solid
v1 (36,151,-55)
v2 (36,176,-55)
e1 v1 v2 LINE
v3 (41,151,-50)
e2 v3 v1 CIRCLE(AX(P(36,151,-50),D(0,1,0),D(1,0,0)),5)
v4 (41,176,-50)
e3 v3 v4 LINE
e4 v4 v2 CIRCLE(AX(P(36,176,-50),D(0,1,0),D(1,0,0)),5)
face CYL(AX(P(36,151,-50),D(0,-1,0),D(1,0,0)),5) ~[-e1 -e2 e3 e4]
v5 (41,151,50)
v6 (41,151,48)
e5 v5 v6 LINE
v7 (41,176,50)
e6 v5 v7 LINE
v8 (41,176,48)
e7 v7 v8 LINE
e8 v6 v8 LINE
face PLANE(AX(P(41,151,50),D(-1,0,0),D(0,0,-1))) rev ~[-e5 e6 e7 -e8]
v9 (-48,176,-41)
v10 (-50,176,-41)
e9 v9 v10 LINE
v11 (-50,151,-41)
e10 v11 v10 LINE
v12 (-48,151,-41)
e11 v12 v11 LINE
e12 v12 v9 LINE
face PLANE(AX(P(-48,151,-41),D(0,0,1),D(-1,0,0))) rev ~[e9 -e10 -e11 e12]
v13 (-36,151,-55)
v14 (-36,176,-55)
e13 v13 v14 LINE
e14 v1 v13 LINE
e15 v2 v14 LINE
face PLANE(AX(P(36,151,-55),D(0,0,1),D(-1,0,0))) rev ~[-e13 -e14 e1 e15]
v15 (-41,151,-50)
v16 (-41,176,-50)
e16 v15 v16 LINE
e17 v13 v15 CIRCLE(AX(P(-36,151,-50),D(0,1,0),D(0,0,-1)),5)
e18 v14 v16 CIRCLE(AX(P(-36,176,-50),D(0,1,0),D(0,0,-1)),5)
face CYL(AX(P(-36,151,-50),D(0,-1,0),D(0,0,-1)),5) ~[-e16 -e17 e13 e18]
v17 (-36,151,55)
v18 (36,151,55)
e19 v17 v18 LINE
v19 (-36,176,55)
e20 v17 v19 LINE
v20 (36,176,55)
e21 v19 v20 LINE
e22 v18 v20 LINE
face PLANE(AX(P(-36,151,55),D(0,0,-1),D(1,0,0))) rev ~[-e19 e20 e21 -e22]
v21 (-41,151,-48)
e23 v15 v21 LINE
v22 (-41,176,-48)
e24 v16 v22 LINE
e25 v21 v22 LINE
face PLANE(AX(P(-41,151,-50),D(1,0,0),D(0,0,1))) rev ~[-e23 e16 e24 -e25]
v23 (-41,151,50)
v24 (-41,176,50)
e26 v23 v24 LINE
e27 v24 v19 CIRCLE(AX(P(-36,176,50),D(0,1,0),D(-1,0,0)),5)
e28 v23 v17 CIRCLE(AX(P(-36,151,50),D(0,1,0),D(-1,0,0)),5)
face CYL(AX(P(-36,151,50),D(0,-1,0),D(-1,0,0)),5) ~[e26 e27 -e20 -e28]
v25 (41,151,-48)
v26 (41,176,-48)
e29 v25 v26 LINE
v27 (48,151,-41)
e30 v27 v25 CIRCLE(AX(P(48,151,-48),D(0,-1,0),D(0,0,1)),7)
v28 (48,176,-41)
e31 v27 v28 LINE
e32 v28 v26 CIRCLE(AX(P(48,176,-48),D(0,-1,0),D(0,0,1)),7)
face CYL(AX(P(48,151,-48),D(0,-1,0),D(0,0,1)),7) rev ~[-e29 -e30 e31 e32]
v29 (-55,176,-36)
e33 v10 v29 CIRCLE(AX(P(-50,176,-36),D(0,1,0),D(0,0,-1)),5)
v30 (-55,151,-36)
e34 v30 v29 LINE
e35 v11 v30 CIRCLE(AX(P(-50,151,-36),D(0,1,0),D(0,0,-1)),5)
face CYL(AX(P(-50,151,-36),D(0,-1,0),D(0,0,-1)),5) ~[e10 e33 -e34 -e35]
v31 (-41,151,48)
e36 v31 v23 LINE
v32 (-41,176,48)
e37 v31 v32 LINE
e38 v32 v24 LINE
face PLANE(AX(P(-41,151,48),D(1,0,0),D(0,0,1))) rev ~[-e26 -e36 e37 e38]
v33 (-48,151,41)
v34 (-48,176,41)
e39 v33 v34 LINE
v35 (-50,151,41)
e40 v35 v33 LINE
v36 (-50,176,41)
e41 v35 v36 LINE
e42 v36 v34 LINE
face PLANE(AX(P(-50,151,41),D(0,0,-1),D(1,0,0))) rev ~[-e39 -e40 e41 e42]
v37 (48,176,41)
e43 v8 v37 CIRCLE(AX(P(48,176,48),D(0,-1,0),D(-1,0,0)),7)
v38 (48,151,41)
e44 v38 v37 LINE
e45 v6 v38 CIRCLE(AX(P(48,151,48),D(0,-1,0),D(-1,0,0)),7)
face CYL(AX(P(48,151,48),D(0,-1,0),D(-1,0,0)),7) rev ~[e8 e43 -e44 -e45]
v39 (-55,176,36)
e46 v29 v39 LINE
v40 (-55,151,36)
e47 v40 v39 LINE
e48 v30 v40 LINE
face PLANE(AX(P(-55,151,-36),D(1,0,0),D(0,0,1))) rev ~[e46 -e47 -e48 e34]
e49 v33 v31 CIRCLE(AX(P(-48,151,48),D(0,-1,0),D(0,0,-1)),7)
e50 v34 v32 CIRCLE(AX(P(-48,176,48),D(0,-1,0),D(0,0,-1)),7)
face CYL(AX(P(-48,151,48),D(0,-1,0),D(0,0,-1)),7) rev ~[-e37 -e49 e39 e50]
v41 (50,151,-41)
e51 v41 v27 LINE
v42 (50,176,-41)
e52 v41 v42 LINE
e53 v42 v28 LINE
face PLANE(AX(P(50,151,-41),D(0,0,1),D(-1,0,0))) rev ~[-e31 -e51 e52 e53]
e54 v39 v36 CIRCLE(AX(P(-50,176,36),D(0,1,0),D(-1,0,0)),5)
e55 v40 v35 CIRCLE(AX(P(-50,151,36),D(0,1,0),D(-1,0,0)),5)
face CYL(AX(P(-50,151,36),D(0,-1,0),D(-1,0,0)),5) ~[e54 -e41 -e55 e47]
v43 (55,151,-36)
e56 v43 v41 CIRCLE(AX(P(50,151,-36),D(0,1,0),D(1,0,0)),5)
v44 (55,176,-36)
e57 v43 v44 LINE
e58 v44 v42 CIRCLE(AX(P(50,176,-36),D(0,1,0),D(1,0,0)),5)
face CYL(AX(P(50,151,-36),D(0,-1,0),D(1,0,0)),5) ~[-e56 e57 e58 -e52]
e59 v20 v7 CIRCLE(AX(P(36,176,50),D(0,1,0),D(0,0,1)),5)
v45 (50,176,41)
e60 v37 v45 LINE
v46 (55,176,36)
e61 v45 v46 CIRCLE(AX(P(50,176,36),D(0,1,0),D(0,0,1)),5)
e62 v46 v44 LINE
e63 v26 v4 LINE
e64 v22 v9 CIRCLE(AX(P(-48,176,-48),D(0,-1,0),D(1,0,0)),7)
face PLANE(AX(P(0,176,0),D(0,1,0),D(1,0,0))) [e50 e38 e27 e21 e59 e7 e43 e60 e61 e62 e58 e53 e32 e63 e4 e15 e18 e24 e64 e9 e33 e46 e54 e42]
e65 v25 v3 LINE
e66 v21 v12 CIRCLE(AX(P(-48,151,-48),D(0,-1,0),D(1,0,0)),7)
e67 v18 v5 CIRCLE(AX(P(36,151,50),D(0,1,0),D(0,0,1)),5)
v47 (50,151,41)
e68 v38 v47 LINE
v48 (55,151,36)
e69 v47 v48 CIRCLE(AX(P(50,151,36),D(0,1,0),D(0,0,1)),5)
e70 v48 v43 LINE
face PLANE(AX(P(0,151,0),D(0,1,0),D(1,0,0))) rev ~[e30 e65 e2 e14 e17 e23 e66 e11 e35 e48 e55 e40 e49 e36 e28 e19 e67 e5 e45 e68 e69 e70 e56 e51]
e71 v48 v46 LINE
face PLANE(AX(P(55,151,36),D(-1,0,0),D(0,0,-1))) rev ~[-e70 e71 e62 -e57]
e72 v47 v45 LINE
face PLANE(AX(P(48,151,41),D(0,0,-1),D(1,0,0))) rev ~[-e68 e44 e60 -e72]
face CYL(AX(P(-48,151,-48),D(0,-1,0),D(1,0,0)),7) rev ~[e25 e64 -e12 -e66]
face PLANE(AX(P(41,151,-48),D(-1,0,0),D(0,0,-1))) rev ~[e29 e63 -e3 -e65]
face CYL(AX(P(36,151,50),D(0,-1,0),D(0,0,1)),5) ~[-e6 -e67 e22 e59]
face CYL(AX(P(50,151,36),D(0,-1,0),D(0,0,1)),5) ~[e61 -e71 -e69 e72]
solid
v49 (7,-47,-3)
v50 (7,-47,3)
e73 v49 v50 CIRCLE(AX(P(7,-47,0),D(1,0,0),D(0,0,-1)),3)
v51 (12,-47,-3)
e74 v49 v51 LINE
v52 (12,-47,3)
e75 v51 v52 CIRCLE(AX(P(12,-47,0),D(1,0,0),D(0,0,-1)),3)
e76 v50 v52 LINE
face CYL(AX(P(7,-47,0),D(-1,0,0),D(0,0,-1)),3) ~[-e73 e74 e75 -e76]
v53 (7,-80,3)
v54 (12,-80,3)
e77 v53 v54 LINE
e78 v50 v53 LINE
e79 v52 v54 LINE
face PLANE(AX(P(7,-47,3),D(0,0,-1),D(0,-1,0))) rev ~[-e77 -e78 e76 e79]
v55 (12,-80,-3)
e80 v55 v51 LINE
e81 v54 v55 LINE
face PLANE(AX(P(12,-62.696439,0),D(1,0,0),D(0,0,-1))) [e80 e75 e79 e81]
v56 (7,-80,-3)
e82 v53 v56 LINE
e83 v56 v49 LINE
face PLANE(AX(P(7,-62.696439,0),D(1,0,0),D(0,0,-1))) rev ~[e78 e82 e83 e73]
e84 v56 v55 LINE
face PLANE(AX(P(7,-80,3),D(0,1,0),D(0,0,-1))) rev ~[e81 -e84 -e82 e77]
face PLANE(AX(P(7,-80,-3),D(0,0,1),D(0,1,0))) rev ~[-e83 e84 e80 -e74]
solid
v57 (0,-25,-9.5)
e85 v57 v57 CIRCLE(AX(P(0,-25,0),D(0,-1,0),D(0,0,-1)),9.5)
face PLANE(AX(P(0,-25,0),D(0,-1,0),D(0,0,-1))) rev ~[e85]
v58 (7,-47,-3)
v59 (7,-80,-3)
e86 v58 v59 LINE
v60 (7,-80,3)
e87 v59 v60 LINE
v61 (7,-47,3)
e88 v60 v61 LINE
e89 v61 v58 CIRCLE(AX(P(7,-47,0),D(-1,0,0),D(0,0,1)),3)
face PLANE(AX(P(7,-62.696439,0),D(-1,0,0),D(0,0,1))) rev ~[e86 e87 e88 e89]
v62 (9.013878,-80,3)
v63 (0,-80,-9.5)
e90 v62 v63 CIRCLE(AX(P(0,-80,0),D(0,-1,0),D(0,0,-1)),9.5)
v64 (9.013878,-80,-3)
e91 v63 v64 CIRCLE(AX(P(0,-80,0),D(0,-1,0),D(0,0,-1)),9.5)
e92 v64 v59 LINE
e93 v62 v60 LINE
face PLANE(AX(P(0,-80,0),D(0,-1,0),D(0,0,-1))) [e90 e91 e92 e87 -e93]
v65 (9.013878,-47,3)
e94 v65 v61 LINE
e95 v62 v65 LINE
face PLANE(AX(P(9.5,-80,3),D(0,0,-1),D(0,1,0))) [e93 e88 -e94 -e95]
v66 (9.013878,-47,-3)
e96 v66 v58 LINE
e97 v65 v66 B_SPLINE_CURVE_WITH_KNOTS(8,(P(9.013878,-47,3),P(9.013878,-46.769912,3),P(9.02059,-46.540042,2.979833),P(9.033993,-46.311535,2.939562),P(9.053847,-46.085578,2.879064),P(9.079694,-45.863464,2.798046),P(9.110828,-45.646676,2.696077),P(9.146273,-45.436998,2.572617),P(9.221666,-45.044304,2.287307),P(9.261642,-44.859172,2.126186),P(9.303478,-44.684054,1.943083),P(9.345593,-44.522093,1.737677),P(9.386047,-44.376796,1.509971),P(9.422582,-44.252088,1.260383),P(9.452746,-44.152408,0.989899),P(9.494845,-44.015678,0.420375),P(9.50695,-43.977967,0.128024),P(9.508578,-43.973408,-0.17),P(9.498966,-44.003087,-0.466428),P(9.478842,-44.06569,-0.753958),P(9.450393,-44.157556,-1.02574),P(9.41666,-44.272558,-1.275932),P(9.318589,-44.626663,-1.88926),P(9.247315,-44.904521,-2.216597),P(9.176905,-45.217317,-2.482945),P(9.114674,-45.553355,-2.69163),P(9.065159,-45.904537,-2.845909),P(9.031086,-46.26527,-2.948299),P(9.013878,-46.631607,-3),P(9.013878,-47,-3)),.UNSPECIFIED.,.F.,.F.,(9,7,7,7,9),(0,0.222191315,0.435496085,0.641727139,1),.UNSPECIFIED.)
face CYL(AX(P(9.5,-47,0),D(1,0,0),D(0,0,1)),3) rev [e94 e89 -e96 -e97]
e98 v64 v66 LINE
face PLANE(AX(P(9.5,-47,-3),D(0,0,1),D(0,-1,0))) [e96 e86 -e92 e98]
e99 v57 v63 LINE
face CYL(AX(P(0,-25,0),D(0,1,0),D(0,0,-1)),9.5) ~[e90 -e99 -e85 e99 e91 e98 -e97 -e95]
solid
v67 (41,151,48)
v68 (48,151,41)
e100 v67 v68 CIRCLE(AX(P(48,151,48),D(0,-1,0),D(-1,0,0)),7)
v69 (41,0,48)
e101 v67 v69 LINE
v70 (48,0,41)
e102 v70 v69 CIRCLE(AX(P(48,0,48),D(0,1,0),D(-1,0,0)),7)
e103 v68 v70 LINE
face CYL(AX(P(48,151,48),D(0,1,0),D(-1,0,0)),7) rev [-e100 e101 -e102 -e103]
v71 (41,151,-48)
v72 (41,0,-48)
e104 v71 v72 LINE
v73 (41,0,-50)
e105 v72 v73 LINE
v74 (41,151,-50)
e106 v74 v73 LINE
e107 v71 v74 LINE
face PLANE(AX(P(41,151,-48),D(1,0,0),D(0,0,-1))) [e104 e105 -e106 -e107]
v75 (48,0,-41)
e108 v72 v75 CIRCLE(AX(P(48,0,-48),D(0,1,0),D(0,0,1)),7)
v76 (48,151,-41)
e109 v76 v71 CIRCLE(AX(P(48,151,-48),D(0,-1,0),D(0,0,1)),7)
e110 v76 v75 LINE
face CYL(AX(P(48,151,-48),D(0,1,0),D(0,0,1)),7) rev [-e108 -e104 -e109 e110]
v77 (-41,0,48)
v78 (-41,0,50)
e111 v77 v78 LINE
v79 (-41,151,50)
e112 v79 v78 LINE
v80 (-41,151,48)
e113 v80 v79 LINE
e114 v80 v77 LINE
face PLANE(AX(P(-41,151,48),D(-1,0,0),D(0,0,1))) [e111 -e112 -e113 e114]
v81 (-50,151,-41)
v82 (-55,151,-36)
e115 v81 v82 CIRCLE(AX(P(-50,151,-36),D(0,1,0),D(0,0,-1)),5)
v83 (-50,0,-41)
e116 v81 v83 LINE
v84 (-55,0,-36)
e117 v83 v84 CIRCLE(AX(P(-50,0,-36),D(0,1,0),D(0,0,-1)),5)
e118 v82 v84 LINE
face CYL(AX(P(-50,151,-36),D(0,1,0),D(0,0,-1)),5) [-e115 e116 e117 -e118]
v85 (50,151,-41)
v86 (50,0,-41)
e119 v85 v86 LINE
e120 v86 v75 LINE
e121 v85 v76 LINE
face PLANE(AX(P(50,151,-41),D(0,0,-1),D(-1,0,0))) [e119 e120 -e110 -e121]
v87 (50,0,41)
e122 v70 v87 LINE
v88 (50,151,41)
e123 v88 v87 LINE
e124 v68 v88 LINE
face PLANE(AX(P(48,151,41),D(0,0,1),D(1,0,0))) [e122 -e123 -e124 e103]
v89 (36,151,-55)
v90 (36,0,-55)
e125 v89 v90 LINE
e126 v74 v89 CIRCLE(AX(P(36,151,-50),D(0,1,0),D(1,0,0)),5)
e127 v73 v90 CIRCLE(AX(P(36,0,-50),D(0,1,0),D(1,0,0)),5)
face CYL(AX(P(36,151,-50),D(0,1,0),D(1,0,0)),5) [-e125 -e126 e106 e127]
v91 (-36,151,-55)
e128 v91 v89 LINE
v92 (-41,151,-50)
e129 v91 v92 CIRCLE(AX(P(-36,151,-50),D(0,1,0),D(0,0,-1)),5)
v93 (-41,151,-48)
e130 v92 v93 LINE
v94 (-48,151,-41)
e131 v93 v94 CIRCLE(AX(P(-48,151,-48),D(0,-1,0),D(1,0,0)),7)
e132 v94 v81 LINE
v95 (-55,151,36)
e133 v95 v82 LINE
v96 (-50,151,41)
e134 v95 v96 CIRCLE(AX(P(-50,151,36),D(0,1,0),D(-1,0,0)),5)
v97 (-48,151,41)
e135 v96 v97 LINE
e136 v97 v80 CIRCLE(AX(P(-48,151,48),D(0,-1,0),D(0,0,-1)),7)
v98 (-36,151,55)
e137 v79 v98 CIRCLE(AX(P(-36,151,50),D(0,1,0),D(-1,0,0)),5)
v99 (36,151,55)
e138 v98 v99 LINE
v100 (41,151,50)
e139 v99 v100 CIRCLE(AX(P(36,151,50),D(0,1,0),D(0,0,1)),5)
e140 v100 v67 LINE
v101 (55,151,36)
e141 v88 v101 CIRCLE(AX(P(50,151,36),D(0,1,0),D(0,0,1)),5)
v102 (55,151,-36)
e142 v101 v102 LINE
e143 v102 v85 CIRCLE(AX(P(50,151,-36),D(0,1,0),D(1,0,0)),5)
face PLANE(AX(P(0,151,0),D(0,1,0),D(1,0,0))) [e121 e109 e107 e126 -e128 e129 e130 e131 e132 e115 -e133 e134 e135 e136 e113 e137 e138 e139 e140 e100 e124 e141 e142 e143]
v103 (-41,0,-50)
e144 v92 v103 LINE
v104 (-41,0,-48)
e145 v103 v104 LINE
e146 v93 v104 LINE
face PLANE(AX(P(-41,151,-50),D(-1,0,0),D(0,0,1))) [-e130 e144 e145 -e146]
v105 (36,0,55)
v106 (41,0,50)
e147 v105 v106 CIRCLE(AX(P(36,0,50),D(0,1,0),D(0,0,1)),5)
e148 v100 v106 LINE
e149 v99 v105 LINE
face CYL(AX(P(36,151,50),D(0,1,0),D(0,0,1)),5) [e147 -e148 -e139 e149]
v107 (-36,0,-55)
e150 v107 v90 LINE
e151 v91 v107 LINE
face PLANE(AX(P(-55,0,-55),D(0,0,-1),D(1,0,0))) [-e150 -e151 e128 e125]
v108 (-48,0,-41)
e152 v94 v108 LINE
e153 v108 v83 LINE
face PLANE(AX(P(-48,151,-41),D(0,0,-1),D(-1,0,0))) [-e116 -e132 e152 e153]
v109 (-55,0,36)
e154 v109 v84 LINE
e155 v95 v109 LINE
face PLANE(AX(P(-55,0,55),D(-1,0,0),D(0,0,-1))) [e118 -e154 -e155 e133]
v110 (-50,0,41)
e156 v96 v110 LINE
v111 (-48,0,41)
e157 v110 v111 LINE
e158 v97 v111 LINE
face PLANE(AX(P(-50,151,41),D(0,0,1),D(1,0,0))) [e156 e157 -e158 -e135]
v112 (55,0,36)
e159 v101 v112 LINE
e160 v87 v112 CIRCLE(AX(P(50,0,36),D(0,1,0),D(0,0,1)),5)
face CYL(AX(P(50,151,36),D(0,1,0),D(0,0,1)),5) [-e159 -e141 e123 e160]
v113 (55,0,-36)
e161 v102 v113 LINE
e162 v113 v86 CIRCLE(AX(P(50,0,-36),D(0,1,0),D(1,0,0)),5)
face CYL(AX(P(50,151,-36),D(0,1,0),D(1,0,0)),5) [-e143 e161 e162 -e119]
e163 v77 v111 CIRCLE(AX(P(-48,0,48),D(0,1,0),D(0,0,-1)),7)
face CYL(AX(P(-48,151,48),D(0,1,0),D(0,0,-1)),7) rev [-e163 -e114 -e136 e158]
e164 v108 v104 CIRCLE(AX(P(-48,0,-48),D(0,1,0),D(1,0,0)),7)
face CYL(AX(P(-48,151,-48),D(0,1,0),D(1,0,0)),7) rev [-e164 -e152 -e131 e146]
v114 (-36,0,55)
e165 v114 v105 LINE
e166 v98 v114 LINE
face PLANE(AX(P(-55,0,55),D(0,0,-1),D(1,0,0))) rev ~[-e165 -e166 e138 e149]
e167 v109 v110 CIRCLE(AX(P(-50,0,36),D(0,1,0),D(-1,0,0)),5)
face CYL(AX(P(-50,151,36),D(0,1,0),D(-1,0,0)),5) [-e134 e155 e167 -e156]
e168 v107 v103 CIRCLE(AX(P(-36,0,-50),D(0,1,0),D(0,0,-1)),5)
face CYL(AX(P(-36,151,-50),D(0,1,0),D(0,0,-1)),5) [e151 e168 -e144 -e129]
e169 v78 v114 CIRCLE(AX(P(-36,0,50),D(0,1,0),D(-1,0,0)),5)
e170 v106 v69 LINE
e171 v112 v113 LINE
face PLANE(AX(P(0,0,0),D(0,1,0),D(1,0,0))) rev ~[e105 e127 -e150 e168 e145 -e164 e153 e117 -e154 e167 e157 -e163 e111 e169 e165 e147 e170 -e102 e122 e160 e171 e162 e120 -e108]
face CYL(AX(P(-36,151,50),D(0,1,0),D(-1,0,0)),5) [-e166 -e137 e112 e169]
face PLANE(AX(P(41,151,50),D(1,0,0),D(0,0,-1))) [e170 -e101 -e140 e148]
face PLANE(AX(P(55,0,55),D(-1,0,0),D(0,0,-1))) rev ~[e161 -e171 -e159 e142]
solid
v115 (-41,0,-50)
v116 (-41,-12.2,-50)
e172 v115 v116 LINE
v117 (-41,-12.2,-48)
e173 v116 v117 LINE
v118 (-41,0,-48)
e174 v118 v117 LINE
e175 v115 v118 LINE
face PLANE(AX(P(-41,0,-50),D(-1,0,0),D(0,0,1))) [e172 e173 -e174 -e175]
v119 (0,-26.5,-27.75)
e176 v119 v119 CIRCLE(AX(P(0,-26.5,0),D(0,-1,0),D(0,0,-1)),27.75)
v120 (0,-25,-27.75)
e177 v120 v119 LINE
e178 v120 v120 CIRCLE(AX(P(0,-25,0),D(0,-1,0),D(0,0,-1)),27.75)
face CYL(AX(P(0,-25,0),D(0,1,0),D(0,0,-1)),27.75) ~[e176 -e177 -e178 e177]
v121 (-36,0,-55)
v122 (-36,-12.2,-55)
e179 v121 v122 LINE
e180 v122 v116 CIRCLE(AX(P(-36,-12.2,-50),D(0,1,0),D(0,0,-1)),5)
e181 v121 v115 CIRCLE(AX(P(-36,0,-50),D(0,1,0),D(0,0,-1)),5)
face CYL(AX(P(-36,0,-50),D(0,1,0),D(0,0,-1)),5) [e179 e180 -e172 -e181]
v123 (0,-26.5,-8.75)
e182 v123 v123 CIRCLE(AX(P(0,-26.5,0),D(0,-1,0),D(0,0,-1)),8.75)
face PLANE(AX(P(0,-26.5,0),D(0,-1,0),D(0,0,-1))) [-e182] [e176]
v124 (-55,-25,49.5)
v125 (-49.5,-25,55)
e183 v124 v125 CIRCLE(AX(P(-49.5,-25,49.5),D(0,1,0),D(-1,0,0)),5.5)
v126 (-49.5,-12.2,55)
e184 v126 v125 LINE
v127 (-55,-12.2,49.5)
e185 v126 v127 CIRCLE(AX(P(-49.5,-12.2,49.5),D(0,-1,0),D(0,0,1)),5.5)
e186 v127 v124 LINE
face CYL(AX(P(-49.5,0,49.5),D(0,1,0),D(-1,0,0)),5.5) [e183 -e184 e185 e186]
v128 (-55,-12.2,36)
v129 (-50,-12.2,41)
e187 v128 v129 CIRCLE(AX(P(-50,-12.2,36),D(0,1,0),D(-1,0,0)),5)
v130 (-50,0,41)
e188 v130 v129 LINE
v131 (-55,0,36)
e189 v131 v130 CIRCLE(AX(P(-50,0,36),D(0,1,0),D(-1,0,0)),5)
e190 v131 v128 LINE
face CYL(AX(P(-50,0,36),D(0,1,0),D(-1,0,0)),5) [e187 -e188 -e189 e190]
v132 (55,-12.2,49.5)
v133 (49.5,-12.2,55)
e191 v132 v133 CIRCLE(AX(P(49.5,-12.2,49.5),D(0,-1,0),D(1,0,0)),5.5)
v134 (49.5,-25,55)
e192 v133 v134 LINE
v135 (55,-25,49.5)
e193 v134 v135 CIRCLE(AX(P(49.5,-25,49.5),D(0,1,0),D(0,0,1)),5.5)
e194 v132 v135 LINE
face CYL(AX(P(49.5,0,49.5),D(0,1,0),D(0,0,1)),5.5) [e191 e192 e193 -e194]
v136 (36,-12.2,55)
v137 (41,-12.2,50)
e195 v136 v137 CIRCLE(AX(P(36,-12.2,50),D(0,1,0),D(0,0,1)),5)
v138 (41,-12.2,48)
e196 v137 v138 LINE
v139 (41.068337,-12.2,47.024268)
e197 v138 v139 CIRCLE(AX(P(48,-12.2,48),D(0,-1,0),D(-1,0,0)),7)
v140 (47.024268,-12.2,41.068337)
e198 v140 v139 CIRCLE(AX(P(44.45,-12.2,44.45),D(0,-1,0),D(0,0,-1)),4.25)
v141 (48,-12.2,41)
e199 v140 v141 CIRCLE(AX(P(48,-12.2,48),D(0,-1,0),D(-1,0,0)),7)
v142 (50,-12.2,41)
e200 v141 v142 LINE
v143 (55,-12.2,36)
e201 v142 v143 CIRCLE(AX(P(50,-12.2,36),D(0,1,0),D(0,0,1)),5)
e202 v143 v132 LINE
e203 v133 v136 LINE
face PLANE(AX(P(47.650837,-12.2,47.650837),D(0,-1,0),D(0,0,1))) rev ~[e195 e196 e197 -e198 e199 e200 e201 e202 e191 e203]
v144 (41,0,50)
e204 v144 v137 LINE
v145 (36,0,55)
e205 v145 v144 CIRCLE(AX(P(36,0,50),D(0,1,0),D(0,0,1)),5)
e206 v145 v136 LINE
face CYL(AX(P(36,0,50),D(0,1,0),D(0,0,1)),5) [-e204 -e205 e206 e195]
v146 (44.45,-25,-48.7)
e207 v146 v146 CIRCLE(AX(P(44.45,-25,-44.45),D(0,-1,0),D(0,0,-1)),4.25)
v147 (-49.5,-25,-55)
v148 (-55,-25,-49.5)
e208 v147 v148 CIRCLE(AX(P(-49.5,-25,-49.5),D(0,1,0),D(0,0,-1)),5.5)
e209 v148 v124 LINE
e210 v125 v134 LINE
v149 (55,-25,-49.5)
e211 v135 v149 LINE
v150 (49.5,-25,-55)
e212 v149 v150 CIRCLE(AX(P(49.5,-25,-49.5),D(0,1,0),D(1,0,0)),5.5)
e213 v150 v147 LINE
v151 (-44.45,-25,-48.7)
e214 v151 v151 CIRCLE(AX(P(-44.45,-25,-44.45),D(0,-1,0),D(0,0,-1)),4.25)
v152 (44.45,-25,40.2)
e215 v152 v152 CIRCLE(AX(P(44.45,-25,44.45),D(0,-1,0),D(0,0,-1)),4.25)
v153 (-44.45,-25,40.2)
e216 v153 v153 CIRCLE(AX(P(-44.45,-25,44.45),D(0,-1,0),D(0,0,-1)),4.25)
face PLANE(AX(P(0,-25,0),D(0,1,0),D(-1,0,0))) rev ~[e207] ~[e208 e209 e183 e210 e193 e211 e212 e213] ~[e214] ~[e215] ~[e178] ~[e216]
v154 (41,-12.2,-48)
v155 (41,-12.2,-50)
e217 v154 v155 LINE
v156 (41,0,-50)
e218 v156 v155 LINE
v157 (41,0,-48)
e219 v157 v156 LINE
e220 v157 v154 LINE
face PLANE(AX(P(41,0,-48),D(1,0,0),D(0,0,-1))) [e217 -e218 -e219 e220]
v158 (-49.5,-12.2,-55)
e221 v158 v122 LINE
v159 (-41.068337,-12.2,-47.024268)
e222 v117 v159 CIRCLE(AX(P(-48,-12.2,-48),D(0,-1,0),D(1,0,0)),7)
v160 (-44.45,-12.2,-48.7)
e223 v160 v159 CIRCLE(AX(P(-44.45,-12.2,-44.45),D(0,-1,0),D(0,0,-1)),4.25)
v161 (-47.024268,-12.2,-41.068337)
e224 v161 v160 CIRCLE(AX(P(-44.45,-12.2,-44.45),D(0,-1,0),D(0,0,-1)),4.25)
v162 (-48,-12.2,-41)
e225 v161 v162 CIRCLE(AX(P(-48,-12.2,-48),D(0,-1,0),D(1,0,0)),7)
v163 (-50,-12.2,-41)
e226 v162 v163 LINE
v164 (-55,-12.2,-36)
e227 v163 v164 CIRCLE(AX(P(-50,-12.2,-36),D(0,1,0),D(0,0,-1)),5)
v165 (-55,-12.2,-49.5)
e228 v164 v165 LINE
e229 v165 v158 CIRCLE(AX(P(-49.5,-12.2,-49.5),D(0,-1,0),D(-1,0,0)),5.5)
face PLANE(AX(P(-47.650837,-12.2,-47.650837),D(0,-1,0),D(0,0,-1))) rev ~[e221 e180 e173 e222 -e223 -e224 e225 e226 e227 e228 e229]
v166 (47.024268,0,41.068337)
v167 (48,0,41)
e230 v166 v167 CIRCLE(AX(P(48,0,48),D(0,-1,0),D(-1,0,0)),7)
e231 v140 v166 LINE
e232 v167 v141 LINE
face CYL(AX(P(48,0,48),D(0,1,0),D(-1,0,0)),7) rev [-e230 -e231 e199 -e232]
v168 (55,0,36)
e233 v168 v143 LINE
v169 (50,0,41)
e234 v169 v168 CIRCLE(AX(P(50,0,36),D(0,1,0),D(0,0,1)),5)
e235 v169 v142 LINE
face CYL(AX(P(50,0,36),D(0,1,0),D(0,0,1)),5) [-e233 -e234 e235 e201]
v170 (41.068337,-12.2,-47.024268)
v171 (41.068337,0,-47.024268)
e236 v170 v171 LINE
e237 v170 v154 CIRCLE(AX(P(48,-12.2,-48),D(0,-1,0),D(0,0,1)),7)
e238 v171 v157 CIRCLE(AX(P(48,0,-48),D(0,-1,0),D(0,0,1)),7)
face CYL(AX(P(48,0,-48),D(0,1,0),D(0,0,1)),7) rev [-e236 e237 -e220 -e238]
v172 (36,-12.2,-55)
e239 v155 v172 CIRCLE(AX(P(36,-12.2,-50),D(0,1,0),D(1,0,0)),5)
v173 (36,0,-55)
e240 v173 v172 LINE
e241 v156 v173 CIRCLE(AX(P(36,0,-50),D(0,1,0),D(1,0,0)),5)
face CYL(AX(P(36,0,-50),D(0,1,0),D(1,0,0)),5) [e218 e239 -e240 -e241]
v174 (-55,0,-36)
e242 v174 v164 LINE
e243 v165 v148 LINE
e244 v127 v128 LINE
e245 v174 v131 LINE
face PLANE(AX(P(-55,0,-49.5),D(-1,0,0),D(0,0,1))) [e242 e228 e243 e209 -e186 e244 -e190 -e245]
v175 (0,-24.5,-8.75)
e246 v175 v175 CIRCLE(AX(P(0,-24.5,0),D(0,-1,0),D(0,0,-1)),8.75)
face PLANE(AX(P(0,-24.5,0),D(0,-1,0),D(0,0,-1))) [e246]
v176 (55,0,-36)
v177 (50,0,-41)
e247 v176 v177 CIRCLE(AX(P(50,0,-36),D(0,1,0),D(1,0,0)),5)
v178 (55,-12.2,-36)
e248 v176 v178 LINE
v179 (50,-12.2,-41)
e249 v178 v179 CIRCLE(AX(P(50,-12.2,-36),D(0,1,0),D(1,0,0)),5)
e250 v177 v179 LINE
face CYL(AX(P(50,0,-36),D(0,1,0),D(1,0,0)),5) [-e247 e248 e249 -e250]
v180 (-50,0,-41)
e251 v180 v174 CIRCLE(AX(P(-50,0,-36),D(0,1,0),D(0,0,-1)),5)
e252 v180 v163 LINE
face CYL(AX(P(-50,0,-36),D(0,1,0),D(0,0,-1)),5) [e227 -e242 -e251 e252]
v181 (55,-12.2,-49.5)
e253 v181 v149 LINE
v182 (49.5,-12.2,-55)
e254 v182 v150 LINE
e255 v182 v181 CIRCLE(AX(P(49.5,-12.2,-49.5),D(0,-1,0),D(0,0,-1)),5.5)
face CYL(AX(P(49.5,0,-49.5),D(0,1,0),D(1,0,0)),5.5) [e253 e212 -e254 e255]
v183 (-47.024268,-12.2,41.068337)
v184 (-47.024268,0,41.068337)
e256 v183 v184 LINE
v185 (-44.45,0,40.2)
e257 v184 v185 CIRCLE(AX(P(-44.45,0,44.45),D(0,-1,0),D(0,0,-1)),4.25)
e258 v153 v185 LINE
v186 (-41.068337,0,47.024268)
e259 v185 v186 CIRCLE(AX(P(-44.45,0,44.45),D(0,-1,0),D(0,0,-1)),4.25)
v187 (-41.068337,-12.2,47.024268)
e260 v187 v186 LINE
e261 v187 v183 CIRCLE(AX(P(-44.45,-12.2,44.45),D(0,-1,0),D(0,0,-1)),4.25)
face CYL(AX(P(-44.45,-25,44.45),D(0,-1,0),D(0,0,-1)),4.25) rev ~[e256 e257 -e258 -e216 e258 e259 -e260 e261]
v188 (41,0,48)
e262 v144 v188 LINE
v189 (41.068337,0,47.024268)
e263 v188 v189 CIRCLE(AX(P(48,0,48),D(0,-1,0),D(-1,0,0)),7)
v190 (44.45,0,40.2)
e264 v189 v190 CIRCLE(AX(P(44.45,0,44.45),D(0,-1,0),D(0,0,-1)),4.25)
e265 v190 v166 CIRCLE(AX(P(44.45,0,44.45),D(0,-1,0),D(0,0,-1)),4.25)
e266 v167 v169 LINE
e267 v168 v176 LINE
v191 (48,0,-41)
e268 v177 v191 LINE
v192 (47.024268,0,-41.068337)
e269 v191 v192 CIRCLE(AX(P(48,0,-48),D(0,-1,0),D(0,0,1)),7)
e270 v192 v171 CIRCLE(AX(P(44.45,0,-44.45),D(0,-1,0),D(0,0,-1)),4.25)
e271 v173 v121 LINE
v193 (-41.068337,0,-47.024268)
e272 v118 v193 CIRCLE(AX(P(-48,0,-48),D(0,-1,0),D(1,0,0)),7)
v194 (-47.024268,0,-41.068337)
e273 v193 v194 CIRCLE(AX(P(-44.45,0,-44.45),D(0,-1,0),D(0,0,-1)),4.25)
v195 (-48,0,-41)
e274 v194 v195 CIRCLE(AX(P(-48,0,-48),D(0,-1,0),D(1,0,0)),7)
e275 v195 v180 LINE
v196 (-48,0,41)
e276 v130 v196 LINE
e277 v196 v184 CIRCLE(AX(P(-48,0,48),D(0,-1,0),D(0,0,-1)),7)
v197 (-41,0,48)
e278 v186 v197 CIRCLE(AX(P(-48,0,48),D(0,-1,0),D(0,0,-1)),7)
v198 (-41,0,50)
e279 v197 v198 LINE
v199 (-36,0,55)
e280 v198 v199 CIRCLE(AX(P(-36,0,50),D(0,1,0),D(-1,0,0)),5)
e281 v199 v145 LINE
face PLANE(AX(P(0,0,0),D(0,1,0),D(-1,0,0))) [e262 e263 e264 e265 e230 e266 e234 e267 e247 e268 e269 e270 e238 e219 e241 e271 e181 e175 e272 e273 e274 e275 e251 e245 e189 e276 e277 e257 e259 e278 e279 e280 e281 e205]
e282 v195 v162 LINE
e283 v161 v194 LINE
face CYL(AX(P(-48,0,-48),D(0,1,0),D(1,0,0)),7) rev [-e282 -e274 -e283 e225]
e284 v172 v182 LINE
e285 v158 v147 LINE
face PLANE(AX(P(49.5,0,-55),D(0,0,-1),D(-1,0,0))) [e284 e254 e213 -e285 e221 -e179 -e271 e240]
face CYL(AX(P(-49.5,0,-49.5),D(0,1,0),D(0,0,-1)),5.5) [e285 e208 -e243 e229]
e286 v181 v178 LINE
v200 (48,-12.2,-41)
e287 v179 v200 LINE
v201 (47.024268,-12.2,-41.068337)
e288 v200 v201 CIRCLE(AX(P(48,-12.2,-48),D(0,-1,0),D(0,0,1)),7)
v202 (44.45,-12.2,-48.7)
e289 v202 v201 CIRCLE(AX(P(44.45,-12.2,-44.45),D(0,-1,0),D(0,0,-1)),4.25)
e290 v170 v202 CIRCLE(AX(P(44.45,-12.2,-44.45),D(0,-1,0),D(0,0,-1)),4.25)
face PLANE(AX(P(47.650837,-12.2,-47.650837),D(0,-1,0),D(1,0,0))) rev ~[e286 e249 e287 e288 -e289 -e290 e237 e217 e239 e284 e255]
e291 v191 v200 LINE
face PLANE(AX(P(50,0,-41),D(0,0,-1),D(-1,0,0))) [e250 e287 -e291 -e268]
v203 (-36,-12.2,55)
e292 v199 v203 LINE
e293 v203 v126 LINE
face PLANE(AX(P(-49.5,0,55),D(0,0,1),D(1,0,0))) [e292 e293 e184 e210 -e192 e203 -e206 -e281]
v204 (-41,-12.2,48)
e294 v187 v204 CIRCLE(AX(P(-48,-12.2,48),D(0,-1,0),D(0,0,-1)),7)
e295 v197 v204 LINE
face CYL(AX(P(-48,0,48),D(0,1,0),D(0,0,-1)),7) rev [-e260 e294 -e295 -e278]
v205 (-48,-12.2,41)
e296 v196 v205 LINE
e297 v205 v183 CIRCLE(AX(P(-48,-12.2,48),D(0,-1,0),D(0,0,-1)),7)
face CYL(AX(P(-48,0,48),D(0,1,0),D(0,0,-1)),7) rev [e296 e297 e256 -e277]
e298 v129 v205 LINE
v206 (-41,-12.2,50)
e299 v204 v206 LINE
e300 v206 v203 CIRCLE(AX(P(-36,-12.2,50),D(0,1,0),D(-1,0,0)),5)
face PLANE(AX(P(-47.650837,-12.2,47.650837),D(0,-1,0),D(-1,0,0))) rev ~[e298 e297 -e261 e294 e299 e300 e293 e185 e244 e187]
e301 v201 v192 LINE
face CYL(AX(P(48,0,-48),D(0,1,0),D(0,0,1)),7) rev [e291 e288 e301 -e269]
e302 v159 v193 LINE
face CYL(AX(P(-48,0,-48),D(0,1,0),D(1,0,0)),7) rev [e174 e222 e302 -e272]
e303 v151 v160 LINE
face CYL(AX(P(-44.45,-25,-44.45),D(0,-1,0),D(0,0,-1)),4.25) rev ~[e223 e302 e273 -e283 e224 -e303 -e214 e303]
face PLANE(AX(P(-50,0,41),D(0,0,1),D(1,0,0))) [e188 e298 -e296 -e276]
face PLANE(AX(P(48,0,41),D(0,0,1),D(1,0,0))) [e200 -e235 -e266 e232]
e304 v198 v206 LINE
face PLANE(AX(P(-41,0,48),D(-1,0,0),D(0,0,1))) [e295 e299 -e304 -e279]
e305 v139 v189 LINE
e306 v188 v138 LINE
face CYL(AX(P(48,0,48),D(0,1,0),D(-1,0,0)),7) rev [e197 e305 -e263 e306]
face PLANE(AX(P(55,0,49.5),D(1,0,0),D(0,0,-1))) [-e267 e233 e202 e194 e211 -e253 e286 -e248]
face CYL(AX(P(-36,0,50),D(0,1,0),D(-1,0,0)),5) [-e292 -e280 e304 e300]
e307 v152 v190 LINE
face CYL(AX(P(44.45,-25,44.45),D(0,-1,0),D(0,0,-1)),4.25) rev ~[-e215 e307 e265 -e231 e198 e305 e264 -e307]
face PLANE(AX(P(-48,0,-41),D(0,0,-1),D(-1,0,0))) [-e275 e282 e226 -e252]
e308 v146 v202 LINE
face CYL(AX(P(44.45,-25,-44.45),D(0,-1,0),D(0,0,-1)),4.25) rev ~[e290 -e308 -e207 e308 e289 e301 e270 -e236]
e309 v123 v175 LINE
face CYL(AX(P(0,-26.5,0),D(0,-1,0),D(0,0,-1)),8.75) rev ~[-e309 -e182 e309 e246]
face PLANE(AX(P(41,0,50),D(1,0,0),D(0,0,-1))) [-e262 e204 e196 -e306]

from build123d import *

# Parameters (mm, degrees)
SKETCH_1_W               = 110
SKETCH_1_H               = 110
EXTRUDE_1_DEPTH          = 151
CUT_EXTRUDE_1_DEPTH      = 152
PATTERN_CIRCULAR_1_COUNT = 4
EXTRUDE_2_DEPTH          = 25
EXTRUDE_4_DEPTH          = 25
CUT_EXTRUDE_2_DEPTH      = 12.2
PATTERN_CIRCULAR_2_COUNT = 4
SKETCH_9_R               = 27.75
EXTRUDE_5_DEPTH          = 1.5
SKETCH_15_R              = 8.75
CUT_EXTRUDE_7_DEPTH      = 2
SKETCH_11_R              = 9.5
EXTRUDE_6_DEPTH          = 55
SKETCH_12_R              = 4.25
CUT_EXTRUDE_3_DEPTH      = 202
CUT_EXTRUDE_8_DEPTH      = 2.5
EXTRUDE_7_DEPTH          = 5


with BuildPart() as part:
    # Sketch 1 → Extrude 1 (new body)
    with BuildSketch(Plane(origin=(0, 0, 0), x_dir=(1, 0, 0), z_dir=(0, 1, 0))):
        Rectangle(SKETCH_1_W, SKETCH_1_H)
    extrude(amount=EXTRUDE_1_DEPTH)

    # Sketch 3 → Cut-Extrude 1 (cut, through all)
    with BuildSketch(Plane(origin=(0, 151, 0), x_dir=(1, 0, 0), z_dir=(0, 1, 0))):
        with BuildLine():
            Line((-50, -41), (-48, -41))
            ThreePointArc((-48, -41), (-43.050252532, -43.050252532), (-41, -48))
            Line((-41, -48), (-41, -50))
            ThreePointArc((-41, -50), (-39.535533906, -53.535533906), (-36, -55))
            Line((-36, -55), (-55, -55))
            Line((-55, -55), (-55, -36))
            ThreePointArc((-55, -36), (-53.535533906, -39.535533906), (-50, -41))
        make_face()
    cut_extrude_1 = extrude(amount=-CUT_EXTRUDE_1_DEPTH, mode=Mode.SUBTRACT)

    # Pattern Circular 1: Cut-Extrude 1 ×4 about axis
    pattern_circular_1_axis = Axis((0, 0, 0), (0, 1, 0))
    for i in range(1, PATTERN_CIRCULAR_1_COUNT):
        add(cut_extrude_1.rotate(pattern_circular_1_axis, i * 360 / PATTERN_CIRCULAR_1_COUNT), mode=Mode.SUBTRACT)


with BuildPart() as body_2:
    # Sketch 4 → Extrude 2 (new body)
    with BuildSketch(Plane(origin=(0, 151, 0), x_dir=(1, 0, 0), z_dir=(0, 1, 0))):
        with BuildLine():
            Line((-55, 36), (-55, -36))
            ThreePointArc((-55, -36), (-53.535533906, -39.535533906), (-50, -41))
            Line((-50, -41), (-48, -41))
            ThreePointArc((-48, -41), (-43.050252532, -43.050252532), (-41, -48))
            Line((-41, -48), (-41, -50))
            ThreePointArc((-41, -50), (-39.535533906, -53.535533906), (-36, -55))
            Line((-36, -55), (36, -55))
            ThreePointArc((36, -55), (39.535533906, -53.535533906), (41, -50))
            Line((41, -50), (41, -48))
            ThreePointArc((41, -48), (43.050252532, -43.050252532), (48, -41))
            Line((48, -41), (50, -41))
            ThreePointArc((50, -41), (53.535533906, -39.535533906), (55, -36))
            Line((55, -36), (55, 36))
            ThreePointArc((55, 36), (53.535533906, 39.535533906), (50, 41))
            Line((50, 41), (48, 41))
            ThreePointArc((48, 41), (43.050252532, 43.050252532), (41, 48))
            Line((41, 48), (41, 50))
            ThreePointArc((41, 50), (39.535533906, 53.535533906), (36, 55))
            Line((36, 55), (-36, 55))
            ThreePointArc((-36, 55), (-39.535533906, 53.535533906), (-41, 50))
            Line((-41, 50), (-41, 48))
            ThreePointArc((-41, 48), (-43.050252532, 43.050252532), (-48, 41))
            Line((-48, 41), (-50, 41))
            ThreePointArc((-50, 41), (-53.535533906, 39.535533906), (-55, 36))
        make_face()
    extrude(amount=EXTRUDE_2_DEPTH)


with BuildPart() as body_3:
    # Sketch 6 → Extrude 4 (new body)
    with BuildSketch(Plane.XZ):
        with BuildLine():
            Line((-49.5, 55), (49.5, 55))
            ThreePointArc((49.5, 55), (53.389087297, 53.389087297), (55, 49.5))
            Line((55, 49.5), (55, -49.5))
            ThreePointArc((55, -49.5), (53.389087297, -53.389087297), (49.5, -55))
            Line((49.5, -55), (-49.5, -55))
            ThreePointArc((-49.5, -55), (-53.389087297, -53.389087297), (-55, -49.5))
            Line((-55, -49.5), (-55, 49.5))
            ThreePointArc((-55, 49.5), (-53.389087297, 53.389087297), (-49.5, 55))
        make_face()
    extrude(amount=EXTRUDE_4_DEPTH)

    # Sketch 8 → Cut-Extrude 2 (cut)
    with BuildSketch(Plane(origin=(0, 0, 0), x_dir=(1, 0, 0), z_dir=(0, 1, 0))):
        with BuildLine():
            Line((-50, -41), (-48, -41))
            ThreePointArc((-48, -41), (-43.050252532, -43.050252532), (-41, -48))
            Line((-41, -48), (-41, -50))
            ThreePointArc((-41, -50), (-39.535533906, -53.535533906), (-36, -55))
            Line((-36, -55), (-49.5, -55))
            ThreePointArc((-49.5, -55), (-53.389087297, -53.389087297), (-55, -49.5))
            Line((-55, -49.5), (-55, -36))
            ThreePointArc((-55, -36), (-53.535533906, -39.535533906), (-50, -41))
        make_face()
    cut_extrude_2 = extrude(amount=-CUT_EXTRUDE_2_DEPTH, mode=Mode.SUBTRACT)

    # Pattern Circular 2: Cut-Extrude 2 ×4 about axis
    pattern_circular_2_axis = Axis((0, 0, 0), (0, 1, 0))
    for i in range(1, PATTERN_CIRCULAR_2_COUNT):
        add(cut_extrude_2.rotate(pattern_circular_2_axis, i * 360 / PATTERN_CIRCULAR_2_COUNT), mode=Mode.SUBTRACT)

    # Sketch 9 → Extrude 5 (add)
    with BuildSketch(Plane.XZ.offset(25)):
        with Locations(Location((0, 0, 0), (0, 0, 270))):  # turned: the seam where the file's is
            Circle(SKETCH_9_R)
    extrude(amount=EXTRUDE_5_DEPTH)

    # Sketch 15 → Cut-Extrude 7 (cut)
    with BuildSketch(Plane.XZ.offset(26.5)):
        with Locations(Location((0, 0, 0), (0, 0, 270))):  # turned: the seam where the file's is
            Circle(SKETCH_15_R)
    extrude(amount=-CUT_EXTRUDE_7_DEPTH, mode=Mode.SUBTRACT)

    # Sketch 12 → Cut-Extrude 3 (cut, through all)
    with BuildSketch(Plane.XZ.offset(25)):
        with Locations(Location((-44.45, 44.45, 0), (0, 0, 270))):  # turned: the seam where the file's is
            Circle(SKETCH_12_R)
        with Locations(Location((44.45, 44.45, 0), (0, 0, 270))):  # turned: the seam where the file's is
            Circle(SKETCH_12_R)
        with Locations(Location((-44.45, -44.45, 0), (0, 0, 270))):  # turned: the seam where the file's is
            Circle(SKETCH_12_R)
        with Locations(Location((44.45, -44.45, 0), (0, 0, 270))):  # turned: the seam where the file's is
            Circle(SKETCH_12_R)
    extrude(amount=-CUT_EXTRUDE_3_DEPTH, mode=Mode.SUBTRACT)


with BuildPart() as body_4:
    # Sketch 11 → Extrude 6 (new body)
    with BuildSketch(Plane.XZ.offset(25)):
        with Locations(Location((0, 0, 0), (0, 0, 270))):  # turned: the seam where the file's is
            Circle(SKETCH_11_R)
    extrude(amount=EXTRUDE_6_DEPTH)

    # Sketch 16 → Cut-Extrude 8 (cut)
    with BuildSketch(Plane(origin=(9.5, 0, 0), x_dir=(0, 0, -1), z_dir=(1, 0, 0))):
        with BuildLine():
            Line((-3, -80), (-3, -47))
            ThreePointArc((-3, -47), (0, -44), (3, -47))
            Line((3, -47), (3, -80))
            Line((3, -80), (-3, -80))
        make_face()
    extrude(amount=-CUT_EXTRUDE_8_DEPTH, mode=Mode.SUBTRACT)


with BuildPart() as body_5:
    # Sketch 17 → Extrude 7 (new body)
    with BuildSketch(Plane(origin=(7, 0, 0), x_dir=(0, 0, -1), z_dir=(1, 0, 0))):
        with BuildLine():
            Line((-3, -80), (3, -80))
            Line((3, -80), (3, -47))
            ThreePointArc((3, -47), (0, -44), (-3, -47))
            Line((-3, -47), (-3, -80))
        make_face()
    extrude(amount=EXTRUDE_7_DEPTH)


solid = Compound([part.part, body_2.part, body_3.part, body_4.part, body_5.part])
